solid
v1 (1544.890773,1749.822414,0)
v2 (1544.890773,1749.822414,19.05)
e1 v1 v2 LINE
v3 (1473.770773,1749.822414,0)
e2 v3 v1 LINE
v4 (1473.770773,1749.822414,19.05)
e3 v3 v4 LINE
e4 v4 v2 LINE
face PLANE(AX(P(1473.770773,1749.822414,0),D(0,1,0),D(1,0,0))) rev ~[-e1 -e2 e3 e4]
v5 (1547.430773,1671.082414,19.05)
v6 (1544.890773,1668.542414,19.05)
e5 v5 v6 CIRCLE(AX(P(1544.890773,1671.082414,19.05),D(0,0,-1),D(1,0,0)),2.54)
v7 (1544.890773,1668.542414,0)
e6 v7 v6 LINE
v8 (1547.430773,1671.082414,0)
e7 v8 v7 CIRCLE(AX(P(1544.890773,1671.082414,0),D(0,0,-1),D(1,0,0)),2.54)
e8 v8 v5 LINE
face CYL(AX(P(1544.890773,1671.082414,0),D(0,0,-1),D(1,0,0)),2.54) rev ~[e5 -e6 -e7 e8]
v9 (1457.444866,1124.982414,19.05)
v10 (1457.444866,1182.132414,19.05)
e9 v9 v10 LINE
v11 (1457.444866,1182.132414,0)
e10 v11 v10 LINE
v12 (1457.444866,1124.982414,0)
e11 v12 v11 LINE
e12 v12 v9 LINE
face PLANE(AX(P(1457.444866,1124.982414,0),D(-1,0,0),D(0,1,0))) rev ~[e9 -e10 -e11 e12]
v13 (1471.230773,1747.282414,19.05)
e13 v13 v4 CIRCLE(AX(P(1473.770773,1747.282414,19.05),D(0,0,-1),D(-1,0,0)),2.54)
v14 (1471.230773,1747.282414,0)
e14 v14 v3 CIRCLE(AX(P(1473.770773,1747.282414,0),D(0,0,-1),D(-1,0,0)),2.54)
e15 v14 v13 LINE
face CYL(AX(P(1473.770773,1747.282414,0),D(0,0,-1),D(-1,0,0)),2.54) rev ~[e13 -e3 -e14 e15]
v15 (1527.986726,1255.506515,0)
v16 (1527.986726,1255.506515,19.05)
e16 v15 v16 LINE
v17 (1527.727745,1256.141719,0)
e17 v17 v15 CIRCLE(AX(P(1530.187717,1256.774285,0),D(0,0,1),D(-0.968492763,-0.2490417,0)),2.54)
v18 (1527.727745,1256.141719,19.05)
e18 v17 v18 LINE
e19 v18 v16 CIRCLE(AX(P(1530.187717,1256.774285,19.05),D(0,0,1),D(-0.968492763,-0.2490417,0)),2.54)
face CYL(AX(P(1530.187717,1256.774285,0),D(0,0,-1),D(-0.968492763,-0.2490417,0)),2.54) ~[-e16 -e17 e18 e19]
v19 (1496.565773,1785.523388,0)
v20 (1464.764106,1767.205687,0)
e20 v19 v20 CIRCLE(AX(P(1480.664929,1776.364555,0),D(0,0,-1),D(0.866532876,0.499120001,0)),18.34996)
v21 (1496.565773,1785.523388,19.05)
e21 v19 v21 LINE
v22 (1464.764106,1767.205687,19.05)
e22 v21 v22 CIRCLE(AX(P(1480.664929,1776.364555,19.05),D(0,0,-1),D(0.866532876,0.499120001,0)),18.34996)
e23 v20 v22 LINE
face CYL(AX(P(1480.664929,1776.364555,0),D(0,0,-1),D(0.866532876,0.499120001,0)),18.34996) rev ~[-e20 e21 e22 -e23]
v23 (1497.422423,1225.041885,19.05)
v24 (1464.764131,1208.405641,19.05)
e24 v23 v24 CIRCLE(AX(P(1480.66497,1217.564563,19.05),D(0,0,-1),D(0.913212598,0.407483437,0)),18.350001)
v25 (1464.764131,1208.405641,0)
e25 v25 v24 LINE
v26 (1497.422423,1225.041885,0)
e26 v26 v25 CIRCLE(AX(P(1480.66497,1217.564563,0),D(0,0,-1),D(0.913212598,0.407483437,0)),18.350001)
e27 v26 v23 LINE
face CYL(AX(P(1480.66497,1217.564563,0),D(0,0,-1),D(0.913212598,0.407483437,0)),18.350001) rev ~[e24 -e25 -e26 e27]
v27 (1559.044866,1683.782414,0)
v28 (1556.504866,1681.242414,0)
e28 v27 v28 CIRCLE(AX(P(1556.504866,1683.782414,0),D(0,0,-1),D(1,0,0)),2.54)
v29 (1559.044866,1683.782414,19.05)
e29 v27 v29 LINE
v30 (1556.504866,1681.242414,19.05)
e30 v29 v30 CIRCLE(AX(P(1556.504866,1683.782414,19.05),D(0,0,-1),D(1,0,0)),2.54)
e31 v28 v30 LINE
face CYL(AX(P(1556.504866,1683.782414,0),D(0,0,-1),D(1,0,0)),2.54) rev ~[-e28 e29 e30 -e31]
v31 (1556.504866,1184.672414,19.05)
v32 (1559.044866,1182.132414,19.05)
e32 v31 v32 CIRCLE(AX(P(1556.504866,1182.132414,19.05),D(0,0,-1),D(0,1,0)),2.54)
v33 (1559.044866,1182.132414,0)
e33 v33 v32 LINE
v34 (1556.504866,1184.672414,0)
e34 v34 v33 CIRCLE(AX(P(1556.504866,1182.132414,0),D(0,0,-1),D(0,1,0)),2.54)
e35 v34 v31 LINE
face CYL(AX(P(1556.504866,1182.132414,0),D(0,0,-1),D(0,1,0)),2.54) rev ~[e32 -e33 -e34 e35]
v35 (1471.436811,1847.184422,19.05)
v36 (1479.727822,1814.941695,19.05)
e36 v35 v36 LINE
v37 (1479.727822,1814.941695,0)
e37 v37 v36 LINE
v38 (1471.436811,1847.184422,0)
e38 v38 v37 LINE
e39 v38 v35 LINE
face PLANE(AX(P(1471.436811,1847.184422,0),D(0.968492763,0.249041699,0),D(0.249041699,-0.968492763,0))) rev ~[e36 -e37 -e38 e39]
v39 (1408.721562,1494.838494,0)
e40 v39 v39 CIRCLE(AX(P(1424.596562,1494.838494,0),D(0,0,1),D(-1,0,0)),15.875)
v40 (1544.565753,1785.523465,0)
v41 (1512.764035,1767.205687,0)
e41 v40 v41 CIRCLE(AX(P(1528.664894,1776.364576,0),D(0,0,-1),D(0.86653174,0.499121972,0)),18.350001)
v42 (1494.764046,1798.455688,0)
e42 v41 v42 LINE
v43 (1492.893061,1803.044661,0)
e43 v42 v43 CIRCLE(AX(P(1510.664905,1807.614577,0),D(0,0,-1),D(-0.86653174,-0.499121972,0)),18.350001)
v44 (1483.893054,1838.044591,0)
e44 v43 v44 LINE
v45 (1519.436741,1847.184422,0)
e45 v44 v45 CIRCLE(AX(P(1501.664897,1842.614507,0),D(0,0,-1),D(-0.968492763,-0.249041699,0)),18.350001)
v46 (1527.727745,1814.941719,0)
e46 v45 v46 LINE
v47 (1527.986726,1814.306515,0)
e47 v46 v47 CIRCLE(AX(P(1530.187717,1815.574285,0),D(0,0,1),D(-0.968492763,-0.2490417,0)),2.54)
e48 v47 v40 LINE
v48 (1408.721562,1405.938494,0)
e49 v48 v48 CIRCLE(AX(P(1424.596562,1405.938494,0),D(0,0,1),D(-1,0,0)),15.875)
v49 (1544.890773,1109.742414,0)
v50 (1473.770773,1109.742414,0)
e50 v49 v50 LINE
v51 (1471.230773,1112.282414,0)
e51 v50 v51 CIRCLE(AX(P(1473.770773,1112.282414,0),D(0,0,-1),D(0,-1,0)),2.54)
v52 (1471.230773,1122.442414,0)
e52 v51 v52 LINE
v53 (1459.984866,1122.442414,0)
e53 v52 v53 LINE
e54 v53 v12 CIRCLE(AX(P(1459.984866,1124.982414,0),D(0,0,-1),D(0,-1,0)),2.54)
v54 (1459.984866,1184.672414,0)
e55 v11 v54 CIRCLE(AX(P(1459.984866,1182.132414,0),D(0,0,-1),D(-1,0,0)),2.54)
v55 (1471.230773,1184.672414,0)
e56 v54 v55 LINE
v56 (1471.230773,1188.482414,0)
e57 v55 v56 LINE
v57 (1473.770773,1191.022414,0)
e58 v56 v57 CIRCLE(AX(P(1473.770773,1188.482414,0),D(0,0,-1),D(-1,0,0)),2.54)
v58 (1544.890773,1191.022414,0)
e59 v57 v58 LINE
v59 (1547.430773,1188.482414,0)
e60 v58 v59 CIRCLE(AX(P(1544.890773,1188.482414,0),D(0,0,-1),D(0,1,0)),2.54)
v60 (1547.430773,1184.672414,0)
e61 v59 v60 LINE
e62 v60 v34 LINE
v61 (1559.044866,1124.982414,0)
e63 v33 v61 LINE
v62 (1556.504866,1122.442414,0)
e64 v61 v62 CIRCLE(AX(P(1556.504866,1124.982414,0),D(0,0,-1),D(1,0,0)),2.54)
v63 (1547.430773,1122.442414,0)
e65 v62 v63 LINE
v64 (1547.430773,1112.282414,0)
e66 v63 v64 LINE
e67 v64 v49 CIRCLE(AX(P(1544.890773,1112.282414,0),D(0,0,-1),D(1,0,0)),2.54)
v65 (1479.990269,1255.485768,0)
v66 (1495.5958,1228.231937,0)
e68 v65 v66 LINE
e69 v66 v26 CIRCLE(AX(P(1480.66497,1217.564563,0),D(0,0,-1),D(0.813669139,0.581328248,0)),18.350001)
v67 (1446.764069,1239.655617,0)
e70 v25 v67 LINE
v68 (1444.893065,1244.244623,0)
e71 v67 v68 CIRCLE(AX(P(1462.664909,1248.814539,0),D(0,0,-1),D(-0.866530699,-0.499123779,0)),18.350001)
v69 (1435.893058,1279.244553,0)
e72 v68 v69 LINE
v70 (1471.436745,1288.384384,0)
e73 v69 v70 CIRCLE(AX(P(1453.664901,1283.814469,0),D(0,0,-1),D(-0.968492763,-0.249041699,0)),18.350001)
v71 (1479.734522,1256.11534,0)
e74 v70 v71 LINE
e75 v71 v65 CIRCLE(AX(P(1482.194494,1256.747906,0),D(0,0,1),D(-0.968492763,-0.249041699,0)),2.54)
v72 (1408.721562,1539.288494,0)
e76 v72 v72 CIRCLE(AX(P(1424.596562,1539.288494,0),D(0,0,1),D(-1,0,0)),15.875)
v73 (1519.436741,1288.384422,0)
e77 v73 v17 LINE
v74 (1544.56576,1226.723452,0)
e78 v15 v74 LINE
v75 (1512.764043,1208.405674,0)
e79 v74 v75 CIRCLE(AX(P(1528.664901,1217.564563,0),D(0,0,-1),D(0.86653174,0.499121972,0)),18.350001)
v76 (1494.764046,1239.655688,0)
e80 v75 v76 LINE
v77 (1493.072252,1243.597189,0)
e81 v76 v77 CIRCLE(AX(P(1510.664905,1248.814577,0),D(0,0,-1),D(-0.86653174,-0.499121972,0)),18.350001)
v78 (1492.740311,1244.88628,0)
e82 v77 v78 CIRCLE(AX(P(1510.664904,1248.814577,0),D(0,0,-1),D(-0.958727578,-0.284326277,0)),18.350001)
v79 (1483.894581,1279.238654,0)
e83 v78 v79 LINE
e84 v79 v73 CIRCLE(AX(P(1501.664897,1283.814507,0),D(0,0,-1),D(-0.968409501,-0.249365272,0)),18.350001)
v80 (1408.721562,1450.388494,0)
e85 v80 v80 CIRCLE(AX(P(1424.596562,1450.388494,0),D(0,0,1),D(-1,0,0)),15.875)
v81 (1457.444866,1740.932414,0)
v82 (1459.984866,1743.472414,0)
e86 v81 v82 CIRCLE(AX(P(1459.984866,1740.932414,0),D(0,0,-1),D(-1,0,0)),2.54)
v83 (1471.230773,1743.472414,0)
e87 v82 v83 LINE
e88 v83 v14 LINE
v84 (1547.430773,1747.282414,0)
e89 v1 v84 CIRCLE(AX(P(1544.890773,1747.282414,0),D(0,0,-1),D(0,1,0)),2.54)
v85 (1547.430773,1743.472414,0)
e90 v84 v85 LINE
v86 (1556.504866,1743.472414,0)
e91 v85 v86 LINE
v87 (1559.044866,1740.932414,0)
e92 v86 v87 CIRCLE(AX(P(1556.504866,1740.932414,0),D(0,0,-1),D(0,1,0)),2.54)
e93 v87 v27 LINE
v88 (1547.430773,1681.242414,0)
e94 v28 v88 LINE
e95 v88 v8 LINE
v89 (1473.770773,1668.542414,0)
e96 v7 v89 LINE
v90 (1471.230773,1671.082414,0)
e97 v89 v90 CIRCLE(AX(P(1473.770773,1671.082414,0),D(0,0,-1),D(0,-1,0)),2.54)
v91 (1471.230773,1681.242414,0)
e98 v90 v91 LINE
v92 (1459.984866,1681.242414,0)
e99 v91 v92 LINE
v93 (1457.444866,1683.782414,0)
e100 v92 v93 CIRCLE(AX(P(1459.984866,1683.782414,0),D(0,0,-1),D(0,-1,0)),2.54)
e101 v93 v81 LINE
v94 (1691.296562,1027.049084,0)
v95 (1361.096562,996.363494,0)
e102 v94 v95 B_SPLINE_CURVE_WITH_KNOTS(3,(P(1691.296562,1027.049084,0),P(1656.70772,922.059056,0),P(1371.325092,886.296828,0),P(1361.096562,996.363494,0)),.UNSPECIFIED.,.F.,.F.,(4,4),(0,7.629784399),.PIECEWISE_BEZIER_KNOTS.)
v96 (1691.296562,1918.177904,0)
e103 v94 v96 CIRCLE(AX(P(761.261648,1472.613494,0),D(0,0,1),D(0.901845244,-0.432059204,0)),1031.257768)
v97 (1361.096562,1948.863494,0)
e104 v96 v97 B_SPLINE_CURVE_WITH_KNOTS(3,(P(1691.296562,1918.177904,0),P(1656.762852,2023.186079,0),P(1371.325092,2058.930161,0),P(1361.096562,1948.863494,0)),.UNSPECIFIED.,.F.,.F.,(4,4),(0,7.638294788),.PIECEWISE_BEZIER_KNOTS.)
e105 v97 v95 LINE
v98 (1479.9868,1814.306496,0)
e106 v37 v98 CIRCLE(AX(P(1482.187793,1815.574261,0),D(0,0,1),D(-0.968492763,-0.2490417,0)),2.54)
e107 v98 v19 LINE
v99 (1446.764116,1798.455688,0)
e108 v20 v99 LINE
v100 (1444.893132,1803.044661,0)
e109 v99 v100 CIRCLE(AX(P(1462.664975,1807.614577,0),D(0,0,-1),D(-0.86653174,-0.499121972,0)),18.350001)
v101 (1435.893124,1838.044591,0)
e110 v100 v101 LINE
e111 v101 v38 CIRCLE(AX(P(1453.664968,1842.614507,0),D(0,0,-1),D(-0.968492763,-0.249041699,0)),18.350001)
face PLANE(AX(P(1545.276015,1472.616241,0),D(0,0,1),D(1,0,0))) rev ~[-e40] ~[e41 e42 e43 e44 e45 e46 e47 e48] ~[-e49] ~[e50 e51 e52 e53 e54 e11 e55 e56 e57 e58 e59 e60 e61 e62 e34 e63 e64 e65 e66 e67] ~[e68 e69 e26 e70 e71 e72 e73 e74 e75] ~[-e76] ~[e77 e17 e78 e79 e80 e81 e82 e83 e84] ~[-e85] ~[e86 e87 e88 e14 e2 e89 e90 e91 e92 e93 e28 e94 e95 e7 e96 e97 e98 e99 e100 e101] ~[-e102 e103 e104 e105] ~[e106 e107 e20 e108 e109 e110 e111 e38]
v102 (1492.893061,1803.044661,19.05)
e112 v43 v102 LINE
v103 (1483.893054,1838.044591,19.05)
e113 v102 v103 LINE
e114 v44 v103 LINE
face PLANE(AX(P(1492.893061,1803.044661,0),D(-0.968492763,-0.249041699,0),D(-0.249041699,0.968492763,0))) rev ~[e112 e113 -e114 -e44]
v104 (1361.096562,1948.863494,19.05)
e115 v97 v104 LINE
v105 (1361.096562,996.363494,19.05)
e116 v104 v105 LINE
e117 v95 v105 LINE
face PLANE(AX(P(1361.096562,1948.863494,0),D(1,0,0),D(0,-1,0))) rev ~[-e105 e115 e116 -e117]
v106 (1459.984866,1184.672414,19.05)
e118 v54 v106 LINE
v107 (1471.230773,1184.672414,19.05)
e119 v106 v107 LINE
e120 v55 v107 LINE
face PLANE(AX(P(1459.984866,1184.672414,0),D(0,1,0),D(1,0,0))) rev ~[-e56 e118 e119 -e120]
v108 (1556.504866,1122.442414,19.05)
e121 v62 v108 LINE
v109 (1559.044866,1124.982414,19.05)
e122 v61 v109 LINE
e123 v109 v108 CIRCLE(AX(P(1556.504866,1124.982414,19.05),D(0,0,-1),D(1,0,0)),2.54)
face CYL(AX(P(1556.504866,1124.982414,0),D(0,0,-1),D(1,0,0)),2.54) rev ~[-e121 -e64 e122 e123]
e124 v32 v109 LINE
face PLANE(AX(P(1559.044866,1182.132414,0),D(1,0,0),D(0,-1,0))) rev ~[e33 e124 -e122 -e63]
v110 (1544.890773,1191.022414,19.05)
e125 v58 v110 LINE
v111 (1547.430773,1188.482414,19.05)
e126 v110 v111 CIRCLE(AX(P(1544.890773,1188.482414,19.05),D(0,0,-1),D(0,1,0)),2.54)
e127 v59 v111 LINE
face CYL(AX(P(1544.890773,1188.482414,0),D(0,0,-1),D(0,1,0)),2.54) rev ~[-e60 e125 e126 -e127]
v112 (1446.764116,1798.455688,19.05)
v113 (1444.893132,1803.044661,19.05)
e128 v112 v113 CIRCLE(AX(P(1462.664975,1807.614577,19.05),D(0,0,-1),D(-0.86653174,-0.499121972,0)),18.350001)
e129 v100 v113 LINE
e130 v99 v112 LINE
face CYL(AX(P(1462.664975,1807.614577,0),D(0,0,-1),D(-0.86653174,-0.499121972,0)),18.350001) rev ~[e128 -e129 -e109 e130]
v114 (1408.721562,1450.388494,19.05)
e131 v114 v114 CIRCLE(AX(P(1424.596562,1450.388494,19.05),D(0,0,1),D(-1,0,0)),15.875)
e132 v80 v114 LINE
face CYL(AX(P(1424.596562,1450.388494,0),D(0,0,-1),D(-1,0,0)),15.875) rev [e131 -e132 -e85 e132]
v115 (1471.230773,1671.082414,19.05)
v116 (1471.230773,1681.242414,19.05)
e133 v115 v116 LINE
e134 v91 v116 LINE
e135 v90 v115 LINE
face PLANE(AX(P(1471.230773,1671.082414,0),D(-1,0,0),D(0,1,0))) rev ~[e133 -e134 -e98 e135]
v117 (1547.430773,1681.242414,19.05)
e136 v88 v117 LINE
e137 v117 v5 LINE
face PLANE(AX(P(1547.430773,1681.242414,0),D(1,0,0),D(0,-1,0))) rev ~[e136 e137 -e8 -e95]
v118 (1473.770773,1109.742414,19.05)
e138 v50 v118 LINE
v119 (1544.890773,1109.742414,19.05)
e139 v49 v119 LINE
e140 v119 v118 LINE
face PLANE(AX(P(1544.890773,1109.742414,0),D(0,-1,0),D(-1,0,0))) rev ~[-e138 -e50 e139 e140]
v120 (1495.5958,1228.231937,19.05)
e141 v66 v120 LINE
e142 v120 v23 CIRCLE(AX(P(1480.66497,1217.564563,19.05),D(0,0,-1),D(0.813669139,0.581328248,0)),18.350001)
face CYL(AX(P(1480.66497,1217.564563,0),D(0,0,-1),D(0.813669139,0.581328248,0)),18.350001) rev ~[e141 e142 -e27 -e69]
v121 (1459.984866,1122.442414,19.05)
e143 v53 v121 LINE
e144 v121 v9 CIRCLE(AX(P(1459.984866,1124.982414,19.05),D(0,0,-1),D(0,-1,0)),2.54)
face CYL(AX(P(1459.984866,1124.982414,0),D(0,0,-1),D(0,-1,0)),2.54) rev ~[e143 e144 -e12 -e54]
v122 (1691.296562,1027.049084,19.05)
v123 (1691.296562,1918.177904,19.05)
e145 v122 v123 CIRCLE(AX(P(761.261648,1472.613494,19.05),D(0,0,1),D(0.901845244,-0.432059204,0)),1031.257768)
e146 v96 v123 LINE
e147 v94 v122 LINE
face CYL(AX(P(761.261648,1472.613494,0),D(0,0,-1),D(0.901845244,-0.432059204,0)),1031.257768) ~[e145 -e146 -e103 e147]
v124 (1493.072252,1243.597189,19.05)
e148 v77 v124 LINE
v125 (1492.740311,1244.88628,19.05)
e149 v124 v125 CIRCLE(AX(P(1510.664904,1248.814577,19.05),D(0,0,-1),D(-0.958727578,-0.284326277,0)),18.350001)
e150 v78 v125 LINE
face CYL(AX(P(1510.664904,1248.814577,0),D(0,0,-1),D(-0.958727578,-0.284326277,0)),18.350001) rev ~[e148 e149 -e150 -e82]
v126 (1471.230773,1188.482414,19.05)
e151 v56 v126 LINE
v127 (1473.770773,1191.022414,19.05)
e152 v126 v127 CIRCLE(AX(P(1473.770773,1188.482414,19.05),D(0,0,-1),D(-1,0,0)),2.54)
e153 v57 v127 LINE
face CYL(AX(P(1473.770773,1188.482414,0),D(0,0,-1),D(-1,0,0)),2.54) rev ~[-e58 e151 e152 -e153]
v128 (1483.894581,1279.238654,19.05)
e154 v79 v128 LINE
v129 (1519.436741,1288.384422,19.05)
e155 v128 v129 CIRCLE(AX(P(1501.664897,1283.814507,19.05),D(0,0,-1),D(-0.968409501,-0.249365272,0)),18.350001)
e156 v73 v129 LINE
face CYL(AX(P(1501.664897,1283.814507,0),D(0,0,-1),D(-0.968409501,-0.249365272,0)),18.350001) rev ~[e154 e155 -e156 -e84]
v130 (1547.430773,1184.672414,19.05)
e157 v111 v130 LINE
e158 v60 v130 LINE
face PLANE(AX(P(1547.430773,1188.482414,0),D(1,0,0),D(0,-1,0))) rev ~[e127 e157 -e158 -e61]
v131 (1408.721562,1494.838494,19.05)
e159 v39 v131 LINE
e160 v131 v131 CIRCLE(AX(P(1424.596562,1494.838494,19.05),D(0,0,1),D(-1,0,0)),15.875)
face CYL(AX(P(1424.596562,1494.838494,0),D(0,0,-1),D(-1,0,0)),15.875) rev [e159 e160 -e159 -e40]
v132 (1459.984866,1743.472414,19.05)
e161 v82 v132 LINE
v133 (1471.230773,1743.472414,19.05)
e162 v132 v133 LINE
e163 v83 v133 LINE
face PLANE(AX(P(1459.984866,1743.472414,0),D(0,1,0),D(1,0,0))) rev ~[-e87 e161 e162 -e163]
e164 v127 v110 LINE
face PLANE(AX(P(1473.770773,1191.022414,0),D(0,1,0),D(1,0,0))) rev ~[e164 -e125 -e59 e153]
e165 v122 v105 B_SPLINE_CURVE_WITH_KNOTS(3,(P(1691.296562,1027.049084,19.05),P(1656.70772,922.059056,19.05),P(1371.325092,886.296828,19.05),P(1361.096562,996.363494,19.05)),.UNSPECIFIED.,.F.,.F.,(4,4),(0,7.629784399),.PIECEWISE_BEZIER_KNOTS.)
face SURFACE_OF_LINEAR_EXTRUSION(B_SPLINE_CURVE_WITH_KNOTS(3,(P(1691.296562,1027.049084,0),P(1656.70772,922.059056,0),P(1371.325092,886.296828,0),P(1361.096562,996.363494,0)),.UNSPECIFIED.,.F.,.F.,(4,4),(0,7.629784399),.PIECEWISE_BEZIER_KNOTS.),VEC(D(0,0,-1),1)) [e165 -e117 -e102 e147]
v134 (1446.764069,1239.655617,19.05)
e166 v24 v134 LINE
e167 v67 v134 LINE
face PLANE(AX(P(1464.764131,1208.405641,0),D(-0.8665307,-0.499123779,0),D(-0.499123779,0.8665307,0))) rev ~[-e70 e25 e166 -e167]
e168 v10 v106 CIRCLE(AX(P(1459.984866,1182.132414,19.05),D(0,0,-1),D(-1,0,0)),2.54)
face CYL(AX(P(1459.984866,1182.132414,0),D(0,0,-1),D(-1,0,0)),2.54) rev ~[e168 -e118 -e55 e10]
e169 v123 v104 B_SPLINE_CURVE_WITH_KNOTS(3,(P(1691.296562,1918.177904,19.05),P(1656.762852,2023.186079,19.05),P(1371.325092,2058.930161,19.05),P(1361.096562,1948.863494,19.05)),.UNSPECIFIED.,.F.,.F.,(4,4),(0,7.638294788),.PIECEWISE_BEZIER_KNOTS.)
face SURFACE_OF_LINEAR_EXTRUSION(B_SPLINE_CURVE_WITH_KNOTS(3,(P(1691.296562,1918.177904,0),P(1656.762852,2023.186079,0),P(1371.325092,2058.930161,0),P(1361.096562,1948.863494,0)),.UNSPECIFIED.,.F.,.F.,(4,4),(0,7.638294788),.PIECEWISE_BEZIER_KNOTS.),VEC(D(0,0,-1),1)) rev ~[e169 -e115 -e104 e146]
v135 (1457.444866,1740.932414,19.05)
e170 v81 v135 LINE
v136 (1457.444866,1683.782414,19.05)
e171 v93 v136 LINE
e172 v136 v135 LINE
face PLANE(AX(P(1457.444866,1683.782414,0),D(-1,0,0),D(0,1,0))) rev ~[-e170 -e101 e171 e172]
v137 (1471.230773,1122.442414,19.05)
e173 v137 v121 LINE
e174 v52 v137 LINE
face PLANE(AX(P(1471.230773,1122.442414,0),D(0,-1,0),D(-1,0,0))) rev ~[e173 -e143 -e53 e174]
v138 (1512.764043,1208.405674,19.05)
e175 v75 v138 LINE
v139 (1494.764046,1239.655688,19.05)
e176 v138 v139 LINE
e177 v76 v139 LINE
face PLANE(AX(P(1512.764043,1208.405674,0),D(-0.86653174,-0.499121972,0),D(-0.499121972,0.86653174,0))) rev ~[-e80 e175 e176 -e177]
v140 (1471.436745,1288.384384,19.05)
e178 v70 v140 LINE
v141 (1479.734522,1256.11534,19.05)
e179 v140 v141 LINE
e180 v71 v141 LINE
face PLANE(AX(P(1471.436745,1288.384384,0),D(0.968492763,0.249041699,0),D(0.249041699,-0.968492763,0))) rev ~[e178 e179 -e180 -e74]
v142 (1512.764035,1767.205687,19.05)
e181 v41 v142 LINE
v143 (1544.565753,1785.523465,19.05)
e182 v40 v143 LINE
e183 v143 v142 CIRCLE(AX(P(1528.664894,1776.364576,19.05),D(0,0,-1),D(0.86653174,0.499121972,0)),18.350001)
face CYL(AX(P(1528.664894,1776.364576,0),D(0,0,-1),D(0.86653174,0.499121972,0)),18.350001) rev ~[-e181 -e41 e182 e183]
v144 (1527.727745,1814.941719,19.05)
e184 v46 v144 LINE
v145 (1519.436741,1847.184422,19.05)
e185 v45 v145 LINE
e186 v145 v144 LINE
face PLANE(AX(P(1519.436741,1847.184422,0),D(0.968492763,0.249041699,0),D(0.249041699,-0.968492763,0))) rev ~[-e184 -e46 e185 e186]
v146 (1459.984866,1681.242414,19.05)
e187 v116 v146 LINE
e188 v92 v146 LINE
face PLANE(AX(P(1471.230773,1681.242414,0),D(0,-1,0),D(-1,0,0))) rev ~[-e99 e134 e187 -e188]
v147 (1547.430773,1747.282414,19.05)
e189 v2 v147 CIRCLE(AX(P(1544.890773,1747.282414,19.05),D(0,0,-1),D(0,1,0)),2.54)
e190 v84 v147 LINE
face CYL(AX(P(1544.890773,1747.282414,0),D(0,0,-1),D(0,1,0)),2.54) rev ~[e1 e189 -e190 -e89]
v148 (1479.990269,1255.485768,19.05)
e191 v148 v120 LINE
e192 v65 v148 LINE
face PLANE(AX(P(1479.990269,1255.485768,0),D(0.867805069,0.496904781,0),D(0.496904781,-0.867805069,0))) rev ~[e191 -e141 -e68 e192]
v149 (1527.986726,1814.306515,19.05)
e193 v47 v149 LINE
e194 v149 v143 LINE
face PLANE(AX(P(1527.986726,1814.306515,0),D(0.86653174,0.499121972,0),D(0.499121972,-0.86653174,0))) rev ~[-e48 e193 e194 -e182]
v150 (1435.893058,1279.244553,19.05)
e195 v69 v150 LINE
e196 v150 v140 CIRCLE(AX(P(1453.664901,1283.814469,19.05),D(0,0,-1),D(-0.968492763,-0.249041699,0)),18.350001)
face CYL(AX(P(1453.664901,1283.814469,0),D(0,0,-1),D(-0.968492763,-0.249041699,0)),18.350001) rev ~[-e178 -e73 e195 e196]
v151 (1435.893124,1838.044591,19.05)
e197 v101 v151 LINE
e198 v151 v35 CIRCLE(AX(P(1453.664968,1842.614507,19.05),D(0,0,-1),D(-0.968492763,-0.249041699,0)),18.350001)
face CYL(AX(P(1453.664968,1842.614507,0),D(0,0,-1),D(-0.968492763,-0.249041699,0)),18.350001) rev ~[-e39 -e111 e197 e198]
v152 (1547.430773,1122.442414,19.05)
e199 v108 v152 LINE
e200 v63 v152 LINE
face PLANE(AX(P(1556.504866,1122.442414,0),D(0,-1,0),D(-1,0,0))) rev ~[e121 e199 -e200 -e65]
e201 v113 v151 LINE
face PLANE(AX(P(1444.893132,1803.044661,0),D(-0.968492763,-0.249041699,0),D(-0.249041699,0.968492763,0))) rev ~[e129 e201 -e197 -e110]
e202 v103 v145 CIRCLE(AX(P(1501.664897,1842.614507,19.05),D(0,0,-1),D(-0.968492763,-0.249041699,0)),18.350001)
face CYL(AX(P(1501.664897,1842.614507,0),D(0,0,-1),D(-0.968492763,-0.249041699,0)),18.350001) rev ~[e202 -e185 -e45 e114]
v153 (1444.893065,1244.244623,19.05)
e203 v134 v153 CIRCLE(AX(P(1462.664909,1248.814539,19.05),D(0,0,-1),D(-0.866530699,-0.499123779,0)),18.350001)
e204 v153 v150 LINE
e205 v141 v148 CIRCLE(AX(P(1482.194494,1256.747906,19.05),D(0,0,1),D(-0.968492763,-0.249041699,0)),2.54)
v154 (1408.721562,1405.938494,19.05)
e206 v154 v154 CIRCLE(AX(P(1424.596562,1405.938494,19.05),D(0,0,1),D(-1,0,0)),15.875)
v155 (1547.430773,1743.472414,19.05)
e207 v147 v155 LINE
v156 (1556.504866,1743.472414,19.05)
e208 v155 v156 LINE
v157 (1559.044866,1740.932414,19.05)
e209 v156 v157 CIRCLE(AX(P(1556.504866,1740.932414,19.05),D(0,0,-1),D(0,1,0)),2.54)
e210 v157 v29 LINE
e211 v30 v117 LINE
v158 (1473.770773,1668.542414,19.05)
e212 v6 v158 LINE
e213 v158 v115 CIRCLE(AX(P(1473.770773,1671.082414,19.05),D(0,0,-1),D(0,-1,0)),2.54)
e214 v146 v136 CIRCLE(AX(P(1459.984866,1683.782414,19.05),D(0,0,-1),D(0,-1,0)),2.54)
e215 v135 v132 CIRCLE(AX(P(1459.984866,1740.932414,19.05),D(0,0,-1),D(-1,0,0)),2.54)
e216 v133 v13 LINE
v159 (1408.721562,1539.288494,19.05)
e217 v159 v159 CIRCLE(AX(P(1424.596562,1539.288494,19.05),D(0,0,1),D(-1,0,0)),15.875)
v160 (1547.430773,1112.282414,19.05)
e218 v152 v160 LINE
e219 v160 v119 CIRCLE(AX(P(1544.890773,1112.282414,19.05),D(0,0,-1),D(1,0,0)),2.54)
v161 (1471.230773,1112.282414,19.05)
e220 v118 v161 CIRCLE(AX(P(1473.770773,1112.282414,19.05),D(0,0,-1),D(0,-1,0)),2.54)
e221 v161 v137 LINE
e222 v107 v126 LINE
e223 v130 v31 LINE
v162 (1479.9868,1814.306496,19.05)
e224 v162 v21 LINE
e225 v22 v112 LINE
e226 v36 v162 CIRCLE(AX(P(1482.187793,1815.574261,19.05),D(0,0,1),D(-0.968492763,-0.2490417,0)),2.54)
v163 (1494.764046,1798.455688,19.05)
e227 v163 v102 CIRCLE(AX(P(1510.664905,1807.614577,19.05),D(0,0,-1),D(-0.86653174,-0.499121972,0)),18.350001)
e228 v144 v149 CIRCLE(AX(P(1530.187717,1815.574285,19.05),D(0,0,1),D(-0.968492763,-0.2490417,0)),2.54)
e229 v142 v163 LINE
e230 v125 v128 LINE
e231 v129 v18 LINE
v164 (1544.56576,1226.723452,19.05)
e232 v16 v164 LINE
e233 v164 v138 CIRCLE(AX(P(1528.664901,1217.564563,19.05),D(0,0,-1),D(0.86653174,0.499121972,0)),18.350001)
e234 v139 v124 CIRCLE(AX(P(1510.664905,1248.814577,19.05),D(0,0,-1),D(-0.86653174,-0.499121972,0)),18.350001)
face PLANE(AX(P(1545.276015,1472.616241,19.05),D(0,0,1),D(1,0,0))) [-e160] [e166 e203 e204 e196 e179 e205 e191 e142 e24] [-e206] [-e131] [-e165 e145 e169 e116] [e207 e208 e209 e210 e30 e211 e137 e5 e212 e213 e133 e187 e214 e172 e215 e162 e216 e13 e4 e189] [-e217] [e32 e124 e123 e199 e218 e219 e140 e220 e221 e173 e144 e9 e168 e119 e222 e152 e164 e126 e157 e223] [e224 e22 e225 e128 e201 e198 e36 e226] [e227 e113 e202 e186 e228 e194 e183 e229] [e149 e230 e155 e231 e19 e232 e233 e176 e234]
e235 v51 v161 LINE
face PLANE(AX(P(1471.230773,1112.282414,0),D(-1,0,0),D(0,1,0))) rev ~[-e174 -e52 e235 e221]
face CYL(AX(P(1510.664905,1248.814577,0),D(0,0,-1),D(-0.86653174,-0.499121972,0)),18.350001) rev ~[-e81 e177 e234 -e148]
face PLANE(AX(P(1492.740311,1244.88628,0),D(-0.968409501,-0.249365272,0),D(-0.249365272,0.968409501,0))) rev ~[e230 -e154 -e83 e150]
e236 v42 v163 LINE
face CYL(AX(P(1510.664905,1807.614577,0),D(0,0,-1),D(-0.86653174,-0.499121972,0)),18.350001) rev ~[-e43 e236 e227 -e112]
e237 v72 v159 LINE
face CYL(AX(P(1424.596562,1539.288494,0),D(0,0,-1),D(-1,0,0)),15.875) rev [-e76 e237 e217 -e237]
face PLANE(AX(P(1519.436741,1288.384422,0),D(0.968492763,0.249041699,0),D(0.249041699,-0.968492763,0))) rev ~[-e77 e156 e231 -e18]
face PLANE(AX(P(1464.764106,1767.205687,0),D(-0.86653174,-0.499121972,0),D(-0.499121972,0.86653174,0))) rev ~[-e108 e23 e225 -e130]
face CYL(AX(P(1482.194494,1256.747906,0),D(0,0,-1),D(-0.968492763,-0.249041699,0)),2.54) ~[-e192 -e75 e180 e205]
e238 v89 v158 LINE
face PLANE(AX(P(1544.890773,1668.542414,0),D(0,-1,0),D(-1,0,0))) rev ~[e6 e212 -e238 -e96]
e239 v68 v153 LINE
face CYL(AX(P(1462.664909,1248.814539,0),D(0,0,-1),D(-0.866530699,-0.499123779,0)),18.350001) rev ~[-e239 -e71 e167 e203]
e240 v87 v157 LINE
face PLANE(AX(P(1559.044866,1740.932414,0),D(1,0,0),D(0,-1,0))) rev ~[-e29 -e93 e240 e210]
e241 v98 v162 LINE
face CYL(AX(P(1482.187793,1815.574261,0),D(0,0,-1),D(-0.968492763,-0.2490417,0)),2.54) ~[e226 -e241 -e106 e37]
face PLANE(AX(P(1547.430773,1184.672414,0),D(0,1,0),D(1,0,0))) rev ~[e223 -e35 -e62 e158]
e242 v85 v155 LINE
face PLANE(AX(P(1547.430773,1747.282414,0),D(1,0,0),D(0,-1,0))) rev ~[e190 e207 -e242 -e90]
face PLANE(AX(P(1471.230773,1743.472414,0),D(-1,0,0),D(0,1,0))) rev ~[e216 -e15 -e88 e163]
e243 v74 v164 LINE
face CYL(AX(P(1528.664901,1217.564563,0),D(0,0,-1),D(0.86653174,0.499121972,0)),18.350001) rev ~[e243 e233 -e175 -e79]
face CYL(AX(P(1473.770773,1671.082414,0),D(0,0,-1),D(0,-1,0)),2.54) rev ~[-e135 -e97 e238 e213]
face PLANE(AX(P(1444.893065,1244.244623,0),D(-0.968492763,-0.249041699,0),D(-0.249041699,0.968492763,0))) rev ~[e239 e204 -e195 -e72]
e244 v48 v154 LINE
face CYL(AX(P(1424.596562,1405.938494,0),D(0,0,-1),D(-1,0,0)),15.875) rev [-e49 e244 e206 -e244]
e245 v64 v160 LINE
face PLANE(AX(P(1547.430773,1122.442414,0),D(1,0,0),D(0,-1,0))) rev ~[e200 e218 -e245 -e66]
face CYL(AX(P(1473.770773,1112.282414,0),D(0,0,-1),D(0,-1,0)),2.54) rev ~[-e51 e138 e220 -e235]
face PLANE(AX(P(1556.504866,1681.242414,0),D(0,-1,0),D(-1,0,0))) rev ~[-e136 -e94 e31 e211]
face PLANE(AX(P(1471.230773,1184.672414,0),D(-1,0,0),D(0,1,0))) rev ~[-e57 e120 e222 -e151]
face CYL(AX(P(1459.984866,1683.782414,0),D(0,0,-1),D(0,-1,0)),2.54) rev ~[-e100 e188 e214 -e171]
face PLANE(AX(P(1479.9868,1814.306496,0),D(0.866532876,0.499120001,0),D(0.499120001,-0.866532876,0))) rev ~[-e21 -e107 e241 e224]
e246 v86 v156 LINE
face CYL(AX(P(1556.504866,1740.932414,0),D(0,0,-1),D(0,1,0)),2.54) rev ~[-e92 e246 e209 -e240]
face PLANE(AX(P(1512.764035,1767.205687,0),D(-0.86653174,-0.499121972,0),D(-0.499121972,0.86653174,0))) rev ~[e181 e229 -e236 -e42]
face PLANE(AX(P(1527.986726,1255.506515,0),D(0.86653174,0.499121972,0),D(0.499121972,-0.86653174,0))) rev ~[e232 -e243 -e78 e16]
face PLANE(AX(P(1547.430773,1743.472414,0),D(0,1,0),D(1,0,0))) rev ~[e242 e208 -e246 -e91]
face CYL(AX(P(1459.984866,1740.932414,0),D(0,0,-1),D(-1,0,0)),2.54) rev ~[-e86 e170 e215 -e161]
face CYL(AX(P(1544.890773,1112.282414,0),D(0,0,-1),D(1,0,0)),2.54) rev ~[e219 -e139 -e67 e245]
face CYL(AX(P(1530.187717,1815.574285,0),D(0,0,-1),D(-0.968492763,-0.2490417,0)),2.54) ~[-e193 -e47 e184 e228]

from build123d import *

# Parameters (mm, degrees)
SKETCH19_R          = 15.875
BOSS_EXTRUDE2_DEPTH = 19.05


with BuildPart() as part:
    # Sketch19 → Boss-Extrude2 (new body)
    with BuildSketch(Plane.XY):
        with BuildLine():
            add(Edge.make_bspline(
                [(1691.296561672, 1918.177904127), (1656.762851887, 2023.18607917), (1371.325091688, 2058.930160841), (1361.096561672, 1948.863494174)],
                knots=[0, 0, 0, 0, 7.638294788, 7.638294788, 7.638294788, 7.638294788], degree=3))
            Line((1361.096561672, 1948.863494174), (1361.096561672, 996.363494174))
            add(Edge.make_bspline(
                [(1691.296561672, 1027.049084222), (1656.707719979, 922.059056278), (1371.325091688, 886.296827508), (1361.096561672, 996.363494174)],
                knots=[0, 0, 0, 0, 7.629784399, 7.629784399, 7.629784399, 7.629784399], degree=3))
            ThreePointArc((1691.296561672, 1027.049084222), (1792.519416014, 1472.613494174), (1691.296561672, 1918.177904127))
        make_face()
        with BuildLine():
            Line((1556.504865632, 1122.44241392), (1547.43077252, 1122.44241392))
            Line((1547.43077252, 1122.44241392), (1547.43077252, 1112.28241392))
            ThreePointArc((1547.43077252, 1112.28241392), (1546.686823744, 1110.486362696), (1544.89077252, 1109.74241392))
            Line((1544.89077252, 1109.74241392), (1473.77077252, 1109.74241392))
            ThreePointArc((1473.77077252, 1109.74241392), (1471.974721296, 1110.486362696), (1471.23077252, 1112.28241392))
            Line((1471.23077252, 1112.28241392), (1471.23077252, 1122.44241392))
            Line((1471.23077252, 1122.44241392), (1459.984865632, 1122.44241392))
            ThreePointArc((1459.984865632, 1122.44241392), (1458.188814408, 1123.186362696), (1457.444865632, 1124.98241392))
            Line((1457.444865632, 1124.98241392), (1457.444865632, 1182.13241392))
            ThreePointArc((1457.444865632, 1182.13241392), (1458.188814408, 1183.928465145), (1459.984865632, 1184.67241392))
            Line((1459.984865632, 1184.67241392), (1471.23077252, 1184.67241392))
            Line((1471.23077252, 1184.67241392), (1471.23077252, 1188.48241392))
            ThreePointArc((1471.23077252, 1188.48241392), (1471.974721296, 1190.278465145), (1473.77077252, 1191.02241392))
            Line((1473.77077252, 1191.02241392), (1544.89077252, 1191.02241392))
            ThreePointArc((1544.89077252, 1191.02241392), (1546.686823744, 1190.278465145), (1547.43077252, 1188.48241392))
            Line((1547.43077252, 1188.48241392), (1547.43077252, 1184.67241392))
            Line((1547.43077252, 1184.67241392), (1556.504865632, 1184.67241392))
            ThreePointArc((1556.504865632, 1184.67241392), (1558.300916856, 1183.928465145), (1559.044865632, 1182.13241392))
            Line((1559.044865632, 1182.13241392), (1559.044865632, 1124.98241392))
            ThreePointArc((1559.044865632, 1124.98241392), (1558.300916856, 1123.186362696), (1556.504865632, 1122.44241392))
        make_face(mode=Mode.SUBTRACT)
        with BuildLine():
            Line((1444.893065071, 1244.244623225), (1435.893057671, 1279.244553225))
            ThreePointArc((1435.893057671, 1279.244553225), (1449.094985702, 1301.58631231), (1471.436744787, 1288.384384279))
            Line((1471.436744787, 1288.384384279), (1479.734522372, 1256.115340295))
            ThreePointArc((1479.734522372, 1256.115340295), (1479.841246759, 1255.791962976), (1479.990269115, 1255.485768066))
            Line((1479.990269115, 1255.485768066), (1495.595800102, 1228.231937145))
            ThreePointArc((1495.595800102, 1228.231937145), (1496.589194493, 1226.682766417), (1497.422422708, 1225.041884612))
            ThreePointArc((1497.422422708, 1225.041884612), (1488.994111708, 1201.213784587), (1464.764130707, 1208.40564094))
            Line((1464.764130707, 1208.40564094), (1446.764069078, 1239.655616711))
            ThreePointArc((1446.764069078, 1239.655616711), (1445.672935755, 1241.886666839), (1444.893065071, 1244.244623225))
        make_face(mode=Mode.SUBTRACT)
        with Locations(Location((1424.596561672, 1405.938494174, 0), (0, 0, 180))):
            Circle(SKETCH19_R, mode=Mode.SUBTRACT)
        with Locations(Location((1424.596561672, 1450.388494174, 0), (0, 0, 180))):
            Circle(SKETCH19_R, mode=Mode.SUBTRACT)
        with BuildLine():
            Line((1527.986726026, 1255.506514787), (1544.56575997, 1226.723451874))
            ThreePointArc((1544.56575997, 1226.723451874), (1537.823790218, 1201.663704337), (1512.764042681, 1208.405674089))
            Line((1512.764042681, 1208.405674089), (1494.764045881, 1239.655687936))
            ThreePointArc((1494.764045881, 1239.655687936), (1493.802589185, 1241.576837352), (1493.072252129, 1243.597189262))
            ThreePointArc((1493.072252129, 1243.597189262), (1492.894588833, 1244.238723731), (1492.740311476, 1244.886280075))
            Line((1492.740311476, 1244.886280075), (1483.894581433, 1279.238653731))
            ThreePointArc((1483.894581433, 1279.238653731), (1497.09201275, 1301.585586702), (1519.436740684, 1288.384422355))
            Line((1519.436740684, 1288.384422355), (1527.727745028, 1256.141718681))
            ThreePointArc((1527.727745028, 1256.141718681), (1527.835693423, 1255.815333734), (1527.986726026, 1255.506514787))
        make_face(mode=Mode.SUBTRACT)
        with Locations(Location((1424.596561672, 1494.838494174, 0), (0, 0, 180))):
            Circle(SKETCH19_R, mode=Mode.SUBTRACT)
        with Locations(Location((1424.596561672, 1539.288494174, 0), (0, 0, 180))):
            Circle(SKETCH19_R, mode=Mode.SUBTRACT)
        with BuildLine():
            Line((1547.43077252, 1681.24241392), (1547.43077252, 1671.08241392))
            ThreePointArc((1547.43077252, 1671.08241392), (1546.686823744, 1669.286362696), (1544.89077252, 1668.54241392))
            Line((1544.89077252, 1668.54241392), (1473.77077252, 1668.54241392))
            ThreePointArc((1473.77077252, 1668.54241392), (1471.974721296, 1669.286362696), (1471.23077252, 1671.08241392))
            Line((1471.23077252, 1671.08241392), (1471.23077252, 1681.24241392))
            Line((1471.23077252, 1681.24241392), (1459.984865632, 1681.24241392))
            ThreePointArc((1459.984865632, 1681.24241392), (1458.188814408, 1681.986362696), (1457.444865632, 1683.78241392))
            Line((1457.444865632, 1683.78241392), (1457.444865632, 1740.93241392))
            ThreePointArc((1457.444865632, 1740.93241392), (1458.188814408, 1742.728465145), (1459.984865632, 1743.47241392))
            Line((1459.984865632, 1743.47241392), (1471.23077252, 1743.47241392))
            Line((1471.23077252, 1743.47241392), (1471.23077252, 1747.28241392))
            ThreePointArc((1471.23077252, 1747.28241392), (1471.974721296, 1749.078465145), (1473.77077252, 1749.82241392))
            Line((1473.77077252, 1749.82241392), (1544.89077252, 1749.82241392))
            ThreePointArc((1544.89077252, 1749.82241392), (1546.686823744, 1749.078465145), (1547.43077252, 1747.28241392))
            Line((1547.43077252, 1747.28241392), (1547.43077252, 1743.47241392))
            Line((1547.43077252, 1743.47241392), (1556.504865632, 1743.47241392))
            ThreePointArc((1556.504865632, 1743.47241392), (1558.300916856, 1742.728465145), (1559.044865632, 1740.93241392))
            Line((1559.044865632, 1740.93241392), (1559.044865632, 1683.78241392))
            ThreePointArc((1559.044865632, 1683.78241392), (1558.300916856, 1681.986362696), (1556.504865632, 1681.24241392))
            Line((1556.504865632, 1681.24241392), (1547.43077252, 1681.24241392))
        make_face(mode=Mode.SUBTRACT)
        with BuildLine():
            Line((1444.893131568, 1803.044661302), (1435.893124168, 1838.044591302))
            ThreePointArc((1435.893124168, 1838.044591302), (1449.095052199, 1860.386350386), (1471.436811284, 1847.184422355))
            Line((1471.436811284, 1847.184422355), (1479.727821657, 1814.941695236))
            ThreePointArc((1479.727821657, 1814.941695236), (1479.835768961, 1814.615312965), (1479.98679977, 1814.30649635))
            Line((1479.98679977, 1814.30649635), (1496.565772911, 1785.52338757))
            ThreePointArc((1496.565772911, 1785.52338757), (1489.823779303, 1760.463721825), (1464.764105889, 1767.205686923))
            Line((1464.764105889, 1767.205686923), (1446.764116481, 1798.455687936))
            ThreePointArc((1446.764116481, 1798.455687936), (1445.672995031, 1800.686722627), (1444.893131568, 1803.044661302))
        make_face(mode=Mode.SUBTRACT)
        with BuildLine():
            Line((1492.893060968, 1803.044661302), (1483.893053568, 1838.044591302))
            ThreePointArc((1483.893053568, 1838.044591302), (1497.094981599, 1860.386350386), (1519.436740684, 1847.184422355))
            Line((1519.436740684, 1847.184422355), (1527.727745028, 1814.941718681))
            ThreePointArc((1527.727745028, 1814.941718681), (1527.835693423, 1814.615333734), (1527.986726026, 1814.306514787))
            Line((1527.986726026, 1814.306514787), (1544.56575257, 1785.523464721))
            ThreePointArc((1544.56575257, 1785.523464721), (1537.823782818, 1760.463717184), (1512.764035281, 1767.205686936))
            Line((1512.764035281, 1767.205686936), (1494.764045881, 1798.455687936))
            ThreePointArc((1494.764045881, 1798.455687936), (1493.672924431, 1800.686722627), (1492.893060968, 1803.044661302))
        make_face(mode=Mode.SUBTRACT)
    extrude(amount=BOSS_EXTRUDE2_DEPTH)


solid = part.part
